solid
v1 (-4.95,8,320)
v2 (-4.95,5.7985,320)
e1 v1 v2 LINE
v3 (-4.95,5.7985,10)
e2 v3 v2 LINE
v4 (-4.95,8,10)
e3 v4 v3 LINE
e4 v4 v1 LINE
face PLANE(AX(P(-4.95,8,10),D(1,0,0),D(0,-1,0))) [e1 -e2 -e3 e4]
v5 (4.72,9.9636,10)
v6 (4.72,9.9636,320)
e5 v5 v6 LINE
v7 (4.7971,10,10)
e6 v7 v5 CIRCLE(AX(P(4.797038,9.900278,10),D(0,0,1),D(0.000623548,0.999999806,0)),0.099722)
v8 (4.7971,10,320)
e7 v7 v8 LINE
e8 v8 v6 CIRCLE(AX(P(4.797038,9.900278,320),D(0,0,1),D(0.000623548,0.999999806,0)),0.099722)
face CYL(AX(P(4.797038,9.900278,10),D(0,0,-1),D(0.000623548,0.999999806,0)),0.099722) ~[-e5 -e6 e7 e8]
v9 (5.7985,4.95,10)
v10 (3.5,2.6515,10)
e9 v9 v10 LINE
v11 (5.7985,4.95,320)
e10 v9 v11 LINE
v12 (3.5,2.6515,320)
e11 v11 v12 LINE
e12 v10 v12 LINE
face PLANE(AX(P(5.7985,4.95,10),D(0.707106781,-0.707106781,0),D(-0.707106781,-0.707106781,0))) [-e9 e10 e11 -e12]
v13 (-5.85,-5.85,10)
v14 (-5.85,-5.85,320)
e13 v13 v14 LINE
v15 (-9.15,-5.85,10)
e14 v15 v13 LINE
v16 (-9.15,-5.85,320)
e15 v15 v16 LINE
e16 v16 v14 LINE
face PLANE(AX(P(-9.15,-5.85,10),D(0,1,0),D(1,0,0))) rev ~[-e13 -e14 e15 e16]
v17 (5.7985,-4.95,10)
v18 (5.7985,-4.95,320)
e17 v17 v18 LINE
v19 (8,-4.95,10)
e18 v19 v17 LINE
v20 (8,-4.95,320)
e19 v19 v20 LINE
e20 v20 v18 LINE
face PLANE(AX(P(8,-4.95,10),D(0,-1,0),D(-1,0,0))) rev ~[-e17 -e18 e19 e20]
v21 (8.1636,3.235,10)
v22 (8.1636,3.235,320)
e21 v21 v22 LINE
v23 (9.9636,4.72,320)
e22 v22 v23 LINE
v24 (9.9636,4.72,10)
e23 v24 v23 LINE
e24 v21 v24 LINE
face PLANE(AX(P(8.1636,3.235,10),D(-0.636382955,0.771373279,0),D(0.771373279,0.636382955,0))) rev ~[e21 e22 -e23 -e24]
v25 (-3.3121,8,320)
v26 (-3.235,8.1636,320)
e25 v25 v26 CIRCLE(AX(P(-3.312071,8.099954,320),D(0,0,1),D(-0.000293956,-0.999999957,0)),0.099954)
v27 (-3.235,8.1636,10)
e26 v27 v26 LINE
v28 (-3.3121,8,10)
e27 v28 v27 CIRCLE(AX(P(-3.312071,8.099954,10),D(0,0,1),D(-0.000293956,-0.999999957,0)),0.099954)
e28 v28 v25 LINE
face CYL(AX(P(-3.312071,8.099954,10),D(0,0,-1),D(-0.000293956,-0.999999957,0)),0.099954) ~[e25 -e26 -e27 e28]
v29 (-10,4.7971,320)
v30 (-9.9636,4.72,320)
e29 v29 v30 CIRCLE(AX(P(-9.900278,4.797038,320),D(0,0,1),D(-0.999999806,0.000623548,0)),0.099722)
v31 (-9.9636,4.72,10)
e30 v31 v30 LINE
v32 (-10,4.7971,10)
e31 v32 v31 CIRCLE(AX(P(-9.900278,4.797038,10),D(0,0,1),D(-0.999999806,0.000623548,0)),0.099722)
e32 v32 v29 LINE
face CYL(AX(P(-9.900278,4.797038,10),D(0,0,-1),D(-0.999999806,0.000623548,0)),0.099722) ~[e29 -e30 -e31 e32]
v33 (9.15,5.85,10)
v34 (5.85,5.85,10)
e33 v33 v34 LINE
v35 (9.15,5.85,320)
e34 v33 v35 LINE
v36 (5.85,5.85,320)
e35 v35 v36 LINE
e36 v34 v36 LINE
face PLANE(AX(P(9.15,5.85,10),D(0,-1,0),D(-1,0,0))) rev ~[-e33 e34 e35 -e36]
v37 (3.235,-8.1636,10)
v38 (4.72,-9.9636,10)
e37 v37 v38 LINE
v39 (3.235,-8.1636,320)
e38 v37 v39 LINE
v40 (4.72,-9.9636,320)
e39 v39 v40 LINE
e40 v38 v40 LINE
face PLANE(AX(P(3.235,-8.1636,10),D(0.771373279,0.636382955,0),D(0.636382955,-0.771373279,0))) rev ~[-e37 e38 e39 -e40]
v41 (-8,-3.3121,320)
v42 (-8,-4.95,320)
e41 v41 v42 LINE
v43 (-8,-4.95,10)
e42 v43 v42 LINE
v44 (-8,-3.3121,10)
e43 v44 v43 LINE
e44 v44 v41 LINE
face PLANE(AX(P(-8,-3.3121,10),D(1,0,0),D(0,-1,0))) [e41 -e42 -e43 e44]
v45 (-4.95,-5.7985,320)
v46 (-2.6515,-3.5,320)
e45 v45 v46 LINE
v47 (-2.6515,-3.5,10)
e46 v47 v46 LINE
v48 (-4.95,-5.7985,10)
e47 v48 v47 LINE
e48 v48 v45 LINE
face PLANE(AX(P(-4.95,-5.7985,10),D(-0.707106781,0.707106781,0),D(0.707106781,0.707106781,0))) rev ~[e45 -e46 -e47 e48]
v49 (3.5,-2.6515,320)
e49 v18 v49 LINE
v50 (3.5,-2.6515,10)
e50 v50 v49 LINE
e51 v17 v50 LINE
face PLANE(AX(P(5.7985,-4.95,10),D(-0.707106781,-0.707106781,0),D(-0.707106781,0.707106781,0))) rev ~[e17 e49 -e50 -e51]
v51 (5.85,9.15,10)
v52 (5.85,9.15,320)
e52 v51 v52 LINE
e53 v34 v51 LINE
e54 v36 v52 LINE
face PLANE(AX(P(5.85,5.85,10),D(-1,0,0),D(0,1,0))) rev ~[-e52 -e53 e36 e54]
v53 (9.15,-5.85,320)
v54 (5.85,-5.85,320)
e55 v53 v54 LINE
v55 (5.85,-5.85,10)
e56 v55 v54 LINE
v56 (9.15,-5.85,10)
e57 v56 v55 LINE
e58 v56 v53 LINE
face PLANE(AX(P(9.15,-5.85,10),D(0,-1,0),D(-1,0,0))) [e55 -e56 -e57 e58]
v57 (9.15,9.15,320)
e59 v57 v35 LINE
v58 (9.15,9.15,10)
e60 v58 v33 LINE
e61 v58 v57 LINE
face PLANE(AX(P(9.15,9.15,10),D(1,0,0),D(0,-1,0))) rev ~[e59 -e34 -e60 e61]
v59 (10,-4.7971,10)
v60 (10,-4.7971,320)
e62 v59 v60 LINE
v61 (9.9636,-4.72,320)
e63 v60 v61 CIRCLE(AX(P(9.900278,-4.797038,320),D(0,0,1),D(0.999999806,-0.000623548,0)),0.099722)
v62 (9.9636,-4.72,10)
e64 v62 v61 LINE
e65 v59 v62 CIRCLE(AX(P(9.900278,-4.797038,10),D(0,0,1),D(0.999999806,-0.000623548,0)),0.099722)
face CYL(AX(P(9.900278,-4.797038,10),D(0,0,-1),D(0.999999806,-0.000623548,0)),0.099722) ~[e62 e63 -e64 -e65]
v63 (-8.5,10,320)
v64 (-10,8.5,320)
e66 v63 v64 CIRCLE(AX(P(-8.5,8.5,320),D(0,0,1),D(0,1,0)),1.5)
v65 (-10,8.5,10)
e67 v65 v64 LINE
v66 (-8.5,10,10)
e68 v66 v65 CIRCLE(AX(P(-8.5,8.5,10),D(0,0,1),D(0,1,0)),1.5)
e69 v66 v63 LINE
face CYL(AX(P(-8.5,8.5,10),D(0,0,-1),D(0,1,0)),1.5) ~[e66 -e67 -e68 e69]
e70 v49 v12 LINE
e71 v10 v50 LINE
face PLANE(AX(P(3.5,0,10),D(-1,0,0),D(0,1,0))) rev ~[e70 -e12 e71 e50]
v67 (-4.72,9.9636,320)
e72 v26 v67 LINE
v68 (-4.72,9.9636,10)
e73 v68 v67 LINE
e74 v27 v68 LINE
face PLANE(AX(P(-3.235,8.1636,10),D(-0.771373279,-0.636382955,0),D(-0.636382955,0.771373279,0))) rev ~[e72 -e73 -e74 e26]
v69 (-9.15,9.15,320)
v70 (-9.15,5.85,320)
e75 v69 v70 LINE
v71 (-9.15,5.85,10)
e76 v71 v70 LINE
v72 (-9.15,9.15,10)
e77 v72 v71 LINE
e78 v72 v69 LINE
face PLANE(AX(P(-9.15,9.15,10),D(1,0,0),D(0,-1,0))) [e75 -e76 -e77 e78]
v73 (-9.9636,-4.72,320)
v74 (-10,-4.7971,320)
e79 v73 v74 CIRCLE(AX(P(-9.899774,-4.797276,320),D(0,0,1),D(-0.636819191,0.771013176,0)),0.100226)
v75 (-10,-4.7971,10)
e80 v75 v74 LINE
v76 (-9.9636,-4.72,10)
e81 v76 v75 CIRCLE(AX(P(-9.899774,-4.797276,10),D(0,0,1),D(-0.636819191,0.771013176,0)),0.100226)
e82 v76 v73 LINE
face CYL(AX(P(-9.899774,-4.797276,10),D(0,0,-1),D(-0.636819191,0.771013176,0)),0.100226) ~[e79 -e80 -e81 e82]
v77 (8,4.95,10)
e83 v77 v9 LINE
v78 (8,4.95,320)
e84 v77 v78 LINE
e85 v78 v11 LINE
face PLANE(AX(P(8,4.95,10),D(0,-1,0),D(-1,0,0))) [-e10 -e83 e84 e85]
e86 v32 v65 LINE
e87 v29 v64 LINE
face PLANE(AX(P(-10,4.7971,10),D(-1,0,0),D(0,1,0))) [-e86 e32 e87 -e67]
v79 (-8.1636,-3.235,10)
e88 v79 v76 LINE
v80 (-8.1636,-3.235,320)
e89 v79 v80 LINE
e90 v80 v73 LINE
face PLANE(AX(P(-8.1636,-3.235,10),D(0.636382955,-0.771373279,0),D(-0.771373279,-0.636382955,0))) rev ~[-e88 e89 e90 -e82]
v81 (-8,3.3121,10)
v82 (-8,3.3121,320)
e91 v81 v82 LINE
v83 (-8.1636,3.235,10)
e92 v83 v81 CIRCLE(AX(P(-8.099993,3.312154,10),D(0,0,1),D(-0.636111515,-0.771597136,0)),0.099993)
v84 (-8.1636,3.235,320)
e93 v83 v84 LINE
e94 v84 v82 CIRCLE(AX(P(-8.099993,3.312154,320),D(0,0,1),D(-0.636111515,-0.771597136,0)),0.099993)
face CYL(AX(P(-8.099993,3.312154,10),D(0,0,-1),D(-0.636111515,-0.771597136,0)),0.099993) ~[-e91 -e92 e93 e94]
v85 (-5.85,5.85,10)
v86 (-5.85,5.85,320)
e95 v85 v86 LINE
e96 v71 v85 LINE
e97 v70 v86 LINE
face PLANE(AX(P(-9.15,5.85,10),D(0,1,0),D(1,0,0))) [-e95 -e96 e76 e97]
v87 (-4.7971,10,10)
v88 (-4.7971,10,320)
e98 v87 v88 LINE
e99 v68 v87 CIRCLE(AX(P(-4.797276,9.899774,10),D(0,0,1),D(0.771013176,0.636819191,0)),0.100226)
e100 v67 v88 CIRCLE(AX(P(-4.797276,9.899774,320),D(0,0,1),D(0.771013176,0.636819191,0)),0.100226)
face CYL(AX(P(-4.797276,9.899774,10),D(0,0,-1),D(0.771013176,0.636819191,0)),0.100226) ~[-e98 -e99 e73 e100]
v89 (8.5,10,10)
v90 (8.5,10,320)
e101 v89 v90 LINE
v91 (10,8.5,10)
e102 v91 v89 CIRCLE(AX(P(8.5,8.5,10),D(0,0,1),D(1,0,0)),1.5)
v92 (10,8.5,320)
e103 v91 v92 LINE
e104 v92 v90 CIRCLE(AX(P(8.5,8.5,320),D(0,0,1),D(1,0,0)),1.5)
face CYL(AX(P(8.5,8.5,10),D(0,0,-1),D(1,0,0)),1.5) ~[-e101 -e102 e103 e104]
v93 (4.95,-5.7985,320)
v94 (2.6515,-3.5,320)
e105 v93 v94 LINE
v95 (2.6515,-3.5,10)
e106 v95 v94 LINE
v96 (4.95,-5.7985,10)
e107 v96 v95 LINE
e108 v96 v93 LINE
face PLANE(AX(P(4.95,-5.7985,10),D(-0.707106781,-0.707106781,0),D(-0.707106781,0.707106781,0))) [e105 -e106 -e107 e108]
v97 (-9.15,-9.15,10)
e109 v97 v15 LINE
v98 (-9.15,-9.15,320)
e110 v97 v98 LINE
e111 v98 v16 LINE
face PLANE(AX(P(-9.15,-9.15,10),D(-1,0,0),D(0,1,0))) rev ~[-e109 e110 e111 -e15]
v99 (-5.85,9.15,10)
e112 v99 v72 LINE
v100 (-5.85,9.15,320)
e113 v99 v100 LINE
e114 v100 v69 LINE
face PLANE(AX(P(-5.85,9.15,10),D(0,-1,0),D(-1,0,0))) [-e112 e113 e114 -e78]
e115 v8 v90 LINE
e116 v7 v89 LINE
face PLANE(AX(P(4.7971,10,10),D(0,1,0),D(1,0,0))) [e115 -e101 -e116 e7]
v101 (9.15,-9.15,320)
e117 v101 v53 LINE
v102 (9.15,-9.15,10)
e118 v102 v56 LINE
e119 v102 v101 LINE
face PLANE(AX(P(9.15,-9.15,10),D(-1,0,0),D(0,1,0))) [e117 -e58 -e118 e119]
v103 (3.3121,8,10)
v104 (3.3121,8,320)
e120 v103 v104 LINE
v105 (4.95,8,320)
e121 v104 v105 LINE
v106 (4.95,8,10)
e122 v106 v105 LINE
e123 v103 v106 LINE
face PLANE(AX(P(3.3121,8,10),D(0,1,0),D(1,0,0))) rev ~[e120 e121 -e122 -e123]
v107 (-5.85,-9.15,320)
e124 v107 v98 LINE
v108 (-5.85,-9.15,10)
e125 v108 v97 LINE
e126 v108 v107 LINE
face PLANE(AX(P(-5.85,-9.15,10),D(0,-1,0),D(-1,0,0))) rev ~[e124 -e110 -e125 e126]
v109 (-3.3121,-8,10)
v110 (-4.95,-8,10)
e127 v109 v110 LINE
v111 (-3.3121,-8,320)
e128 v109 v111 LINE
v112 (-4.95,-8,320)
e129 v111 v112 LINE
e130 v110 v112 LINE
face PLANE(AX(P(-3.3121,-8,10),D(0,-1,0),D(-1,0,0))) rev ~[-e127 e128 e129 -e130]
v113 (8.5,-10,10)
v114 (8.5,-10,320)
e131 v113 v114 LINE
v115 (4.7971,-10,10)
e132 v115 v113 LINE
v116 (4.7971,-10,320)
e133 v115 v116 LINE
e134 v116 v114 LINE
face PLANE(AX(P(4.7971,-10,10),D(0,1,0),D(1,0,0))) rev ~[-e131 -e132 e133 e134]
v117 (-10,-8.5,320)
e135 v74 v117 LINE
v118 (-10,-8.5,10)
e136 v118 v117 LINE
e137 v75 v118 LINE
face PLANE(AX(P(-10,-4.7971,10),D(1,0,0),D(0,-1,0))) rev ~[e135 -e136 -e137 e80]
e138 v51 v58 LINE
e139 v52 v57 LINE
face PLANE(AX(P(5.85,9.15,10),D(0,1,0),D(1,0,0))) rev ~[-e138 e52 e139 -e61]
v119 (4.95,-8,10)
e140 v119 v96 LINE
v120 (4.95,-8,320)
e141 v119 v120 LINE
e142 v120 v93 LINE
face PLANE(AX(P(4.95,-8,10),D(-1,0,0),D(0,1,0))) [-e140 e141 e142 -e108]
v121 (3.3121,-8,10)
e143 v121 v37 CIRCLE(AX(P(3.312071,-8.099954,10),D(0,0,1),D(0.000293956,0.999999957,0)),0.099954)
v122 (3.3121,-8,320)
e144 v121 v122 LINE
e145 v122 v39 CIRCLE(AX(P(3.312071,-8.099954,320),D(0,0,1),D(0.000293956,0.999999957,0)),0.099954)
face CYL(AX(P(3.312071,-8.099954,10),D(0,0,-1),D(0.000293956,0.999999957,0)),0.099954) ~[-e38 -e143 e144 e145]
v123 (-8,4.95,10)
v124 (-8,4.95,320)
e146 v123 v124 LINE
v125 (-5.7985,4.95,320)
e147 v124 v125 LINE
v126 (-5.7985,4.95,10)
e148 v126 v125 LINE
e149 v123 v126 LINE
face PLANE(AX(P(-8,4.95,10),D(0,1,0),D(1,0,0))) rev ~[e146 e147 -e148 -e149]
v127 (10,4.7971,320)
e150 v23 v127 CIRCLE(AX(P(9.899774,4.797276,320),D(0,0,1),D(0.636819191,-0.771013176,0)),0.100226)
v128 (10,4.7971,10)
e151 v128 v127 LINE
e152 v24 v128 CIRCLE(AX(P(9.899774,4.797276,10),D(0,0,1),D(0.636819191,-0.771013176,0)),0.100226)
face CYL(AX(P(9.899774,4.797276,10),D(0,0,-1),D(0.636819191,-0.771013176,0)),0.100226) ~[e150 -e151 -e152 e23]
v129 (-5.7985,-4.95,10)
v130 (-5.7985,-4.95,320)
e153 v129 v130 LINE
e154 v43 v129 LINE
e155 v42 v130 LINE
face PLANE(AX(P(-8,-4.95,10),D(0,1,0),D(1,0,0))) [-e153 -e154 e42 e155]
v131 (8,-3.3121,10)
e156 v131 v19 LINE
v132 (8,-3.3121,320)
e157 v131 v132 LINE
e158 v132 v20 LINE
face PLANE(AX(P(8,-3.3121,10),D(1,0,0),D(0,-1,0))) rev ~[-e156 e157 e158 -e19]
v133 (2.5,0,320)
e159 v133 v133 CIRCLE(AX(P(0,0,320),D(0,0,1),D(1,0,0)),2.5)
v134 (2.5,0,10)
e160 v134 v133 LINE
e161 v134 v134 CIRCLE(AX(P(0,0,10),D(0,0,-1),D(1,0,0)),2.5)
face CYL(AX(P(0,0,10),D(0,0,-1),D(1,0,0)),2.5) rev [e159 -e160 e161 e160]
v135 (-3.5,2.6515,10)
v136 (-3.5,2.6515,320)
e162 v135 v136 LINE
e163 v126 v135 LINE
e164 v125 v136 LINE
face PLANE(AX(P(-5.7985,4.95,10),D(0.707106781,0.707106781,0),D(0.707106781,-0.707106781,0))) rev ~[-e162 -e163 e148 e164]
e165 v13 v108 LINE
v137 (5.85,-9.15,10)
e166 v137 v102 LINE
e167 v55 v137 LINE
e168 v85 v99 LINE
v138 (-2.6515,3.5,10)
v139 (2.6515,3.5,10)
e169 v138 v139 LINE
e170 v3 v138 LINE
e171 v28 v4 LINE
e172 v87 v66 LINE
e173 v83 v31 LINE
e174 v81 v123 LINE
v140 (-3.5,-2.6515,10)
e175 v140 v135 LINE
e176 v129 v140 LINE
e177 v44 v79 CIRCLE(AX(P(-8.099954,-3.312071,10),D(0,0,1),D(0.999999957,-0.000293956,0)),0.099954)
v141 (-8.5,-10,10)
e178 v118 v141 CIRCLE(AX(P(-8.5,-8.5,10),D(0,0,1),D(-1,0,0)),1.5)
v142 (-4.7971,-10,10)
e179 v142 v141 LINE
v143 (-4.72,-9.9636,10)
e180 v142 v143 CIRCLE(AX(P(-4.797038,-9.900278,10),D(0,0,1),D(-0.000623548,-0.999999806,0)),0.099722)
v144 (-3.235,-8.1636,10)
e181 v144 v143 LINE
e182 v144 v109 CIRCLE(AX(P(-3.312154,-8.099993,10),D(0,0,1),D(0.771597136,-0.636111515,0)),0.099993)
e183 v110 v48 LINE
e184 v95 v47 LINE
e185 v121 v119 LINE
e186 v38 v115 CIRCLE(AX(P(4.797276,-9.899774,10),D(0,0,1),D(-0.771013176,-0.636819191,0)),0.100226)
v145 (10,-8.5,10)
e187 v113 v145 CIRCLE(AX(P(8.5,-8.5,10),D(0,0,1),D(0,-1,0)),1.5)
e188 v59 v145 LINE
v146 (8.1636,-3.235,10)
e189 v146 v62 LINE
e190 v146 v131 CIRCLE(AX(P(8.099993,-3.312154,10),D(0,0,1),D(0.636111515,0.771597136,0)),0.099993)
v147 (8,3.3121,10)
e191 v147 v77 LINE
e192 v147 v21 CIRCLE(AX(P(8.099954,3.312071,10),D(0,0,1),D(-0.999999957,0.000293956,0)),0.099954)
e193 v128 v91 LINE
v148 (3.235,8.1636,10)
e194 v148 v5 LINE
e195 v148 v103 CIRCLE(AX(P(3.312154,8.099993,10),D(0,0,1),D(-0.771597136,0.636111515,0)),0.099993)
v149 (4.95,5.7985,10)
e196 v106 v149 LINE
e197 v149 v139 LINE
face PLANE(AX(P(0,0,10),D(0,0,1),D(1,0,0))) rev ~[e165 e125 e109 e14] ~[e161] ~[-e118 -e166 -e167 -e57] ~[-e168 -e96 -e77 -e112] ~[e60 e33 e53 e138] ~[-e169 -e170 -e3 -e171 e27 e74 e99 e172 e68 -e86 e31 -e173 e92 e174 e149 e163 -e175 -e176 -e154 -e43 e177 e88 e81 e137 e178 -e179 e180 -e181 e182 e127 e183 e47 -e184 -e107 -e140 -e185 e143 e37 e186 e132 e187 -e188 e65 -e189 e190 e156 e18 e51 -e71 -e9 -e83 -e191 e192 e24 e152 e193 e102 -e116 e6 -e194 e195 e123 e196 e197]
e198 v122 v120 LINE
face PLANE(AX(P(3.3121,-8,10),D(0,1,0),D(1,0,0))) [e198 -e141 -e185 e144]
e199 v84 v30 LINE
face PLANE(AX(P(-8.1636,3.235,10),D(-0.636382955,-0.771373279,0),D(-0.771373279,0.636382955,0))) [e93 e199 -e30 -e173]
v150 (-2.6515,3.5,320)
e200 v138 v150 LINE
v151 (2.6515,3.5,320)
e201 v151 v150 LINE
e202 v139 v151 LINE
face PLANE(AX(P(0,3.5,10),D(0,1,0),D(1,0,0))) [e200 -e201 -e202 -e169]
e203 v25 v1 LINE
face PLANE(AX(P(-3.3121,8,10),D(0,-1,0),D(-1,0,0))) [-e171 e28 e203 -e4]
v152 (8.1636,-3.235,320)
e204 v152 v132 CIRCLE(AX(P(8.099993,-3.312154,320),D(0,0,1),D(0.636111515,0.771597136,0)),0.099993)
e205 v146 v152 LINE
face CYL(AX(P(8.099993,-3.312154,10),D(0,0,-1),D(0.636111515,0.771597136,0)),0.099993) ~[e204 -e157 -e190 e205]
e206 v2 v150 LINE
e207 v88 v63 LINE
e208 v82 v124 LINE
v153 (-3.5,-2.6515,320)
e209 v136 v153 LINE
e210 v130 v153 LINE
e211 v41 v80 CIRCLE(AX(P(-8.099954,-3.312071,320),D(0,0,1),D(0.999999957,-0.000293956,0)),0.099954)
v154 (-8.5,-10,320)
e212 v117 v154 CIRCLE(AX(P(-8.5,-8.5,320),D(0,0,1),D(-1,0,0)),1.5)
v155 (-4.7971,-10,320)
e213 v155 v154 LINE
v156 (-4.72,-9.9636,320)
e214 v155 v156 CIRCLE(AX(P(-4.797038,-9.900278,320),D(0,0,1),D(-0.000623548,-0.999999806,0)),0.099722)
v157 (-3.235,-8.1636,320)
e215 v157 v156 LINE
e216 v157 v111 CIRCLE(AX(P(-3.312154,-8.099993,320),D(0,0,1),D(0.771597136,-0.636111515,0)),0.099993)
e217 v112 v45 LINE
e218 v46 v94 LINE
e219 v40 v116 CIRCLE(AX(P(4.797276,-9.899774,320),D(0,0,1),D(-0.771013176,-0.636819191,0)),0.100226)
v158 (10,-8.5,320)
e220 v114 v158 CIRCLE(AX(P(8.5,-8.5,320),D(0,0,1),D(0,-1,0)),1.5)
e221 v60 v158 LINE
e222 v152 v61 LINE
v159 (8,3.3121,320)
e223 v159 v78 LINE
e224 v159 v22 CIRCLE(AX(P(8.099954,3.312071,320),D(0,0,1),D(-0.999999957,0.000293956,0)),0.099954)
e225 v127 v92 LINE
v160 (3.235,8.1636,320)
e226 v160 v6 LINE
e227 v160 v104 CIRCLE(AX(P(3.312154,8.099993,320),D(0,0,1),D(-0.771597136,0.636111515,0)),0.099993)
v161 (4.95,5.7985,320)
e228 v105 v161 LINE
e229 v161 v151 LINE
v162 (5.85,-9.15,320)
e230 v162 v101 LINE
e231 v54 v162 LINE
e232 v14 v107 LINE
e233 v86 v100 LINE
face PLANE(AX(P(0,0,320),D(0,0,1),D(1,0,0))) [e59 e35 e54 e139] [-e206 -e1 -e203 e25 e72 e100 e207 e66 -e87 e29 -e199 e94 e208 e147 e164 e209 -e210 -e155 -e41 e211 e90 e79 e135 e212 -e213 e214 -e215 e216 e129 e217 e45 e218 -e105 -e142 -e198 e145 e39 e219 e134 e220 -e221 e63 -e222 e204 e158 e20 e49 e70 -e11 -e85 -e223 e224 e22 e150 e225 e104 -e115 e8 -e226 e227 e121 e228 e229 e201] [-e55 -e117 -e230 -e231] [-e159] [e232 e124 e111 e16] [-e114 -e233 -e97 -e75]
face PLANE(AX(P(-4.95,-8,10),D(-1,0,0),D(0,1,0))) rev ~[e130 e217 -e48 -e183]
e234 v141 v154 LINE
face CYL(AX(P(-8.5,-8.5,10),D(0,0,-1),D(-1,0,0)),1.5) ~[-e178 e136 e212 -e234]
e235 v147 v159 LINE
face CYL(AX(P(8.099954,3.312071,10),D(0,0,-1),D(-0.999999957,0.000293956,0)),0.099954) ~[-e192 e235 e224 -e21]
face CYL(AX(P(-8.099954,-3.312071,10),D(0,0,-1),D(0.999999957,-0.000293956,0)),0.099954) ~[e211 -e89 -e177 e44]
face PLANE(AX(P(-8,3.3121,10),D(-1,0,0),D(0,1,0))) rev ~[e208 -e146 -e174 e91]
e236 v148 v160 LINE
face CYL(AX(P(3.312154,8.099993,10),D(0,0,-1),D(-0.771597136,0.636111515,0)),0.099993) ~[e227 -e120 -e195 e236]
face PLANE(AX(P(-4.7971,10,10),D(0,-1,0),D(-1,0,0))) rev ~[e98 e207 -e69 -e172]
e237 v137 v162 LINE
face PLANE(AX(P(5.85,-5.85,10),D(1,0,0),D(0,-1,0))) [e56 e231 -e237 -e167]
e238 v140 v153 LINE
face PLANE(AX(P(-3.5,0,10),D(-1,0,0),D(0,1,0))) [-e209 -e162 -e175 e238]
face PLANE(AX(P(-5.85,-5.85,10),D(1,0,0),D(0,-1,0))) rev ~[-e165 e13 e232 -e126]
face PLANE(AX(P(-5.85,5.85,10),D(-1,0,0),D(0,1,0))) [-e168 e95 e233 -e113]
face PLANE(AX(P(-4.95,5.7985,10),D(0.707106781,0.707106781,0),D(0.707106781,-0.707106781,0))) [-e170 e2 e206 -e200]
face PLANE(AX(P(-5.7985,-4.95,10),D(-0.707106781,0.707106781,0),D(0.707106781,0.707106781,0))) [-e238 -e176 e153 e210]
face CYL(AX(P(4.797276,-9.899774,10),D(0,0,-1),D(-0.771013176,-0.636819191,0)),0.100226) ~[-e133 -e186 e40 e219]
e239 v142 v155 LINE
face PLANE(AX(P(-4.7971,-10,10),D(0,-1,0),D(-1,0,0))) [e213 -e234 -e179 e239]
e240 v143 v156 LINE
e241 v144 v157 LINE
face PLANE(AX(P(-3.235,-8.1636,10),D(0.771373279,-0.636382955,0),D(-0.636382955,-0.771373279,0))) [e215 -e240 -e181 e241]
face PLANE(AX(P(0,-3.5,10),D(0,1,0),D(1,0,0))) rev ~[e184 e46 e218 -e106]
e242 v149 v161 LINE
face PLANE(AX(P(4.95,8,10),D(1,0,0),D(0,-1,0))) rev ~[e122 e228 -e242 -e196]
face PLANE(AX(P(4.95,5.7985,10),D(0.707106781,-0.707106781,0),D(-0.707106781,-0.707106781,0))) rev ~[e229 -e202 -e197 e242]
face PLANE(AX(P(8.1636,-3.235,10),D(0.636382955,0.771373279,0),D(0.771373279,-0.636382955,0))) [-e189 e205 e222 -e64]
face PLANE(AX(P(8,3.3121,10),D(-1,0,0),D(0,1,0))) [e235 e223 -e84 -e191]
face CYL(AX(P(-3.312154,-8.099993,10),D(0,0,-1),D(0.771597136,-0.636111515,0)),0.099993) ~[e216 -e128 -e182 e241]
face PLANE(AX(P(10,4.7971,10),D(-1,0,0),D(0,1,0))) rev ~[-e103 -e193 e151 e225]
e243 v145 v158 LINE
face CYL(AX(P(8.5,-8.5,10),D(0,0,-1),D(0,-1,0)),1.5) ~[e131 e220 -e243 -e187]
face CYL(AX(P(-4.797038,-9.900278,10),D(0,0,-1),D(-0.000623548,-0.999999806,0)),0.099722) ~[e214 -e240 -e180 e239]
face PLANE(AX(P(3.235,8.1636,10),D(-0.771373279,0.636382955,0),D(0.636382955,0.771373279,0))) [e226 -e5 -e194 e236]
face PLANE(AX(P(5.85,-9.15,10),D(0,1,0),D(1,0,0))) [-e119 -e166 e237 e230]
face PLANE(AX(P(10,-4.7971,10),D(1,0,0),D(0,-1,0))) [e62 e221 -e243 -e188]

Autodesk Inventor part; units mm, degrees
ref_plane "Начальная плоскость" through (0, 0, 10) normal (0, 0, 1) x (1, 0, 0)
ref_plane "Конечная плоскость" through (0, 0, 320) normal (0, 0, 1) x (1, 0, 0)
sketch "Эскиз" plane through (0, 0, 0) normal (0, 0, 1) x (1, 0, 0)
  line L0 (-14.4349, 0) -> (14.4349, 0) projected
  line L1 (0, -14) -> (0, 14) projected
  line L2 (0, 0) -> (7.5, 7.5) construction
  circle A0 centre (7.5, 7.5) radius 1.65 construction
  line L3 (5.85, 9.15) -> (9.15, 9.15)
  line L4 (9.15, 9.15) -> (9.15, 5.85)
  line L5 (9.15, 5.85) -> (5.85, 5.85)
  line L6 (5.85, 5.85) -> (5.85, 9.15)
  line L7 (3.235, 8.1636) -> (4.72, 9.9636)
  line L8 (4.7971, 10) -> (8.5, 10)
  line L9 (3.3121, 8) -> (4.95, 8)
  line L10 (4.95, 8) -> (4.95, 5.7985)
  line L11 (4.95, 5.7985) -> (2.6515, 3.5)
  line L12 (0, 3.5) -> (2.6515, 3.5)
  circle A1 centre (0, 0) radius 2.5
  line L13 (8.1636, 3.235) -> (9.9636, 4.72)
  line L14 (10, 4.7971) -> (10, 8.5)
  line L15 (8, 3.3121) -> (8, 4.95)
  line L16 (8, 4.95) -> (5.7985, 4.95)
  line L17 (5.7985, 4.95) -> (3.5, 2.6515)
  line L18 (3.5, 0) -> (3.5, 2.6515)
  arc A2 (10, 8.5) -> (8.5, 10) centre (8.5, 8.5) ccw
  line L19 (0, 0) -> (-7.5, 7.5) construction
  circle A3 centre (-7.5, 7.5) radius 1.65 construction
  line L20 (-5.85, 9.15) -> (-9.15, 9.15)
  line L21 (-9.15, 9.15) -> (-9.15, 5.85)
  line L22 (-9.15, 5.85) -> (-5.85, 5.85)
  line L23 (-5.85, 5.85) -> (-5.85, 9.15)
  line L24 (-3.235, 8.1636) -> (-4.72, 9.9636)
  line L25 (-4.7971, 10) -> (-8.5, 10)
  line L26 (-3.3121, 8) -> (-4.95, 8)
  line L27 (-4.95, 8) -> (-4.95, 5.7985)
  line L28 (-4.95, 5.7985) -> (-2.6515, 3.5)
  line L29 (0, 3.5) -> (-2.6515, 3.5)
  line L30 (-3.5, 0) -> (-3.5, 2.6515)
  line L31 (-5.7985, 4.95) -> (-3.5, 2.6515)
  line L32 (-8, 4.95) -> (-5.7985, 4.95)
  line L33 (-8, 3.3121) -> (-8, 4.95)
  line L34 (-8.1636, 3.235) -> (-9.9636, 4.72)
  line L35 (-10, 4.7971) -> (-10, 8.5)
  arc A4 (-8.5, 10) -> (-10, 8.5) centre (-8.5, 8.5) ccw
  line L36 (0, 14) -> (0, -14)
  line L37 (0, 0) -> (7.5, -7.5) construction
  circle A5 centre (7.5, -7.5) radius 1.65 construction
  line L38 (5.85, -9.15) -> (9.15, -9.15)
  line L39 (9.15, -9.15) -> (9.15, -5.85)
  line L40 (9.15, -5.85) -> (5.85, -5.85)
  line L41 (5.85, -5.85) -> (5.85, -9.15)
  line L42 (3.235, -8.1636) -> (4.72, -9.9636)
  line L43 (4.7971, -10) -> (8.5, -10)
  line L44 (3.3121, -8) -> (4.95, -8)
  line L45 (4.95, -8) -> (4.95, -5.7985)
  line L46 (4.95, -5.7985) -> (2.6515, -3.5)
  line L47 (0, -3.5) -> (2.6515, -3.5)
  line L48 (3.5, 0) -> (3.5, -2.6515)
  line L49 (5.7985, -4.95) -> (3.5, -2.6515)
  line L50 (8, -4.95) -> (5.7985, -4.95)
  line L51 (8, -3.3121) -> (8, -4.95)
  line L52 (8.1636, -3.235) -> (9.9636, -4.72)
  line L53 (10, -4.7971) -> (10, -8.5)
  arc A6 (8.5, -10) -> (10, -8.5) centre (8.5, -8.5) ccw
  line L54 (0, 0) -> (-7.5, -7.5) construction
  line L55 (-4.95, -8) -> (-4.95, -5.7985)
  line L56 (-3.3121, -8) -> (-4.95, -8)
  line L57 (-5.7985, -4.95) -> (-3.5, -2.6515)
  line L58 (-4.95, -5.7985) -> (-2.6515, -3.5)
  line L59 (-3.5, 0) -> (-3.5, -2.6515)
  line L60 (0, -3.5) -> (-2.6515, -3.5)
  circle A7 centre (-7.5, -7.5) radius 1.65 construction
  line L61 (-5.85, -5.85) -> (-5.85, -9.15)
  line L62 (-5.85, -9.15) -> (-9.15, -9.15)
  line L63 (-9.15, -9.15) -> (-9.15, -5.85)
  line L64 (-9.15, -5.85) -> (-5.85, -5.85)
  line L65 (-3.235, -8.1636) -> (-4.72, -9.9636)
  line L66 (-8, -4.95) -> (-5.7985, -4.95)
  line L67 (-8, -3.3121) -> (-8, -4.95)
  line L68 (-8.1636, -3.235) -> (-9.9636, -4.72)
  line L69 (-4.7971, -10) -> (-8.5, -10)
  line L70 (-10, -4.7971) -> (-10, -8.5)
  arc A8 (-10, -8.5) -> (-8.5, -10) centre (-8.5, -8.5) ccw
  arc A9 (3.235, 8.1636) -> (3.3121, 8) centre (3.3121, 8.1) ccw
  arc A10 (4.7971, 10) -> (4.72, 9.9636) centre (4.7971, 9.9) ccw
  arc A11 (8, 3.3121) -> (8.1636, 3.235) centre (8.1, 3.3121) ccw
  arc A12 (9.9636, 4.72) -> (10, 4.7971) centre (9.9, 4.7971) ccw
  arc A13 (-3.3121, 8) -> (-3.235, 8.1636) centre (-3.3121, 8.1) ccw
  arc A14 (-4.72, 9.9636) -> (-4.7971, 10) centre (-4.7971, 9.9) ccw
  arc A15 (-8.1636, 3.235) -> (-8, 3.3121) centre (-8.1, 3.3121) ccw
  arc A16 (-10, 4.7971) -> (-9.9636, 4.72) centre (-9.9, 4.7971) ccw
  arc A17 (-8, -3.3121) -> (-8.1636, -3.235) centre (-8.1, -3.3121) ccw
  arc A18 (-9.9636, -4.72) -> (-10, -4.7971) centre (-9.9, -4.7971) ccw
  arc A19 (-3.235, -8.1636) -> (-3.3121, -8) centre (-3.3121, -8.1) ccw
  arc A20 (-4.7971, -10) -> (-4.72, -9.9636) centre (-4.7971, -9.9) ccw
  arc A21 (4.72, -9.9636) -> (4.7971, -10) centre (4.7971, -9.9) ccw
  arc A22 (3.3121, -8) -> (3.235, -8.1636) centre (3.3121, -8.1) ccw
  arc A23 (8.1636, -3.235) -> (8, -3.3121) centre (8.1, -3.3121) ccw
  arc A24 (10, -4.7971) -> (9.9636, -4.72) centre (9.9, -4.7971) ccw
  point P0 (3.1, 8)
  point P1 (4.75, 10)
  point P2 (7.5, 9.15)
  point P3 (8, 3.1)
  point P4 (10, 4.75)
  point P5 (7.5, 5.85)
  point P6 (9.15, 7.5)
  point P7 (-3.1, 8)
  point P8 (-4.75, 10)
  point P9 (-7.5, 9.15)
  point P10 (-8, 3.1)
  point P11 (-10, 4.75)
  point P12 (-7.5, 5.85)
  point P13 (-9.15, 7.5)
  point P14 (3.1, -8)
  point P15 (4.75, -10)
  point P16 (7.5, -9.15)
  point P17 (8, -3.1)
  point P18 (10, -4.75)
  point P19 (7.5, -5.85)
  point P20 (9.15, -7.5)
  point P21 (-3.1, -8)
  point P22 (-7.5, -5.85)
  point P23 (-7.5, -9.15)
  point P24 (-9.15, -7.5)
  point P25 (-4.75, -10)
  point P26 (-8, -3.1)
  point P27 (-10, -4.75)
  dimension "d0" = 45
  dimension "d1" = 3.3
  dimension "d2" = 1.5
  dimension "d3" = 1.2
  dimension "d4" = 5
  dimension "d5" = 6.5
  dimension "d6" = 15
  dimension "d7" = 20
  dimension "d8" = 9.9
  dimension "d9" = 9.5
  dimension "d10" = 6.2
  dimension "d11" = 2
  dimension "d18" = 0.1
  dimension "d19" = 0.1
extrude "Тело" add sketch "Эскиз" along normal up to surface (310 mm away) from surface at 10 contours A1 L1 L12 L11 L10 L9 A9 L7 A10 L8 A2 L14 A12 L13 A11 L15 L16 L17 L18 L0 | L0 L48 L49 L50 L51 A23 L52 A24 L53 A6 L43 A21 L42 A22 L44 L45 L46 L47 L1 A1 | A1 L0 L30 L31 L32 L33 A15 L34 A16 L35 A4 L25 A14 L24 A13 L26 L27 L28 L29 L1 | L1 L60 L58 L55 L56 A19 L65 A20 L69 A8 L70 A18 L68 A17 L67 L66 L57 L59 L0 A1
sketch "Эскиз2" plane through (0, 0, 0) normal (0, 0, 1) x (1, 0, 0)
  line L0 (0, 0) -> (10, 0)
ref_plane "РабПлоскость3" through (0, 0, 0) normal (0, -1, 0) x (1, 0, 0)
sketch "Эскиз3" plane through (0, 0, 0) normal (0, -1, 0) x (1, 0, 0)
  line L0 (-2, 10) -> (12, 10)
  line L1 (-2, 320) -> (12, 320)
  dimension "d25" = 310
ref_plane "РабПлоскость4" through (120, -8.5, 10) normal (0, 0, -1) x (-1, 0, 0)
split "Разделение1" plane through (120, -8.5, 10) removes the side toward (0, 0, -1)
ref_plane "РабПлоскость5" through (120, -4.7971, 320) normal (0, 0, 1) x (1, 0, 0)
split "Разделение2" plane through (120, -4.7971, 320) removes the side toward (0, 0, 1)
properties part number "короткая палка"
